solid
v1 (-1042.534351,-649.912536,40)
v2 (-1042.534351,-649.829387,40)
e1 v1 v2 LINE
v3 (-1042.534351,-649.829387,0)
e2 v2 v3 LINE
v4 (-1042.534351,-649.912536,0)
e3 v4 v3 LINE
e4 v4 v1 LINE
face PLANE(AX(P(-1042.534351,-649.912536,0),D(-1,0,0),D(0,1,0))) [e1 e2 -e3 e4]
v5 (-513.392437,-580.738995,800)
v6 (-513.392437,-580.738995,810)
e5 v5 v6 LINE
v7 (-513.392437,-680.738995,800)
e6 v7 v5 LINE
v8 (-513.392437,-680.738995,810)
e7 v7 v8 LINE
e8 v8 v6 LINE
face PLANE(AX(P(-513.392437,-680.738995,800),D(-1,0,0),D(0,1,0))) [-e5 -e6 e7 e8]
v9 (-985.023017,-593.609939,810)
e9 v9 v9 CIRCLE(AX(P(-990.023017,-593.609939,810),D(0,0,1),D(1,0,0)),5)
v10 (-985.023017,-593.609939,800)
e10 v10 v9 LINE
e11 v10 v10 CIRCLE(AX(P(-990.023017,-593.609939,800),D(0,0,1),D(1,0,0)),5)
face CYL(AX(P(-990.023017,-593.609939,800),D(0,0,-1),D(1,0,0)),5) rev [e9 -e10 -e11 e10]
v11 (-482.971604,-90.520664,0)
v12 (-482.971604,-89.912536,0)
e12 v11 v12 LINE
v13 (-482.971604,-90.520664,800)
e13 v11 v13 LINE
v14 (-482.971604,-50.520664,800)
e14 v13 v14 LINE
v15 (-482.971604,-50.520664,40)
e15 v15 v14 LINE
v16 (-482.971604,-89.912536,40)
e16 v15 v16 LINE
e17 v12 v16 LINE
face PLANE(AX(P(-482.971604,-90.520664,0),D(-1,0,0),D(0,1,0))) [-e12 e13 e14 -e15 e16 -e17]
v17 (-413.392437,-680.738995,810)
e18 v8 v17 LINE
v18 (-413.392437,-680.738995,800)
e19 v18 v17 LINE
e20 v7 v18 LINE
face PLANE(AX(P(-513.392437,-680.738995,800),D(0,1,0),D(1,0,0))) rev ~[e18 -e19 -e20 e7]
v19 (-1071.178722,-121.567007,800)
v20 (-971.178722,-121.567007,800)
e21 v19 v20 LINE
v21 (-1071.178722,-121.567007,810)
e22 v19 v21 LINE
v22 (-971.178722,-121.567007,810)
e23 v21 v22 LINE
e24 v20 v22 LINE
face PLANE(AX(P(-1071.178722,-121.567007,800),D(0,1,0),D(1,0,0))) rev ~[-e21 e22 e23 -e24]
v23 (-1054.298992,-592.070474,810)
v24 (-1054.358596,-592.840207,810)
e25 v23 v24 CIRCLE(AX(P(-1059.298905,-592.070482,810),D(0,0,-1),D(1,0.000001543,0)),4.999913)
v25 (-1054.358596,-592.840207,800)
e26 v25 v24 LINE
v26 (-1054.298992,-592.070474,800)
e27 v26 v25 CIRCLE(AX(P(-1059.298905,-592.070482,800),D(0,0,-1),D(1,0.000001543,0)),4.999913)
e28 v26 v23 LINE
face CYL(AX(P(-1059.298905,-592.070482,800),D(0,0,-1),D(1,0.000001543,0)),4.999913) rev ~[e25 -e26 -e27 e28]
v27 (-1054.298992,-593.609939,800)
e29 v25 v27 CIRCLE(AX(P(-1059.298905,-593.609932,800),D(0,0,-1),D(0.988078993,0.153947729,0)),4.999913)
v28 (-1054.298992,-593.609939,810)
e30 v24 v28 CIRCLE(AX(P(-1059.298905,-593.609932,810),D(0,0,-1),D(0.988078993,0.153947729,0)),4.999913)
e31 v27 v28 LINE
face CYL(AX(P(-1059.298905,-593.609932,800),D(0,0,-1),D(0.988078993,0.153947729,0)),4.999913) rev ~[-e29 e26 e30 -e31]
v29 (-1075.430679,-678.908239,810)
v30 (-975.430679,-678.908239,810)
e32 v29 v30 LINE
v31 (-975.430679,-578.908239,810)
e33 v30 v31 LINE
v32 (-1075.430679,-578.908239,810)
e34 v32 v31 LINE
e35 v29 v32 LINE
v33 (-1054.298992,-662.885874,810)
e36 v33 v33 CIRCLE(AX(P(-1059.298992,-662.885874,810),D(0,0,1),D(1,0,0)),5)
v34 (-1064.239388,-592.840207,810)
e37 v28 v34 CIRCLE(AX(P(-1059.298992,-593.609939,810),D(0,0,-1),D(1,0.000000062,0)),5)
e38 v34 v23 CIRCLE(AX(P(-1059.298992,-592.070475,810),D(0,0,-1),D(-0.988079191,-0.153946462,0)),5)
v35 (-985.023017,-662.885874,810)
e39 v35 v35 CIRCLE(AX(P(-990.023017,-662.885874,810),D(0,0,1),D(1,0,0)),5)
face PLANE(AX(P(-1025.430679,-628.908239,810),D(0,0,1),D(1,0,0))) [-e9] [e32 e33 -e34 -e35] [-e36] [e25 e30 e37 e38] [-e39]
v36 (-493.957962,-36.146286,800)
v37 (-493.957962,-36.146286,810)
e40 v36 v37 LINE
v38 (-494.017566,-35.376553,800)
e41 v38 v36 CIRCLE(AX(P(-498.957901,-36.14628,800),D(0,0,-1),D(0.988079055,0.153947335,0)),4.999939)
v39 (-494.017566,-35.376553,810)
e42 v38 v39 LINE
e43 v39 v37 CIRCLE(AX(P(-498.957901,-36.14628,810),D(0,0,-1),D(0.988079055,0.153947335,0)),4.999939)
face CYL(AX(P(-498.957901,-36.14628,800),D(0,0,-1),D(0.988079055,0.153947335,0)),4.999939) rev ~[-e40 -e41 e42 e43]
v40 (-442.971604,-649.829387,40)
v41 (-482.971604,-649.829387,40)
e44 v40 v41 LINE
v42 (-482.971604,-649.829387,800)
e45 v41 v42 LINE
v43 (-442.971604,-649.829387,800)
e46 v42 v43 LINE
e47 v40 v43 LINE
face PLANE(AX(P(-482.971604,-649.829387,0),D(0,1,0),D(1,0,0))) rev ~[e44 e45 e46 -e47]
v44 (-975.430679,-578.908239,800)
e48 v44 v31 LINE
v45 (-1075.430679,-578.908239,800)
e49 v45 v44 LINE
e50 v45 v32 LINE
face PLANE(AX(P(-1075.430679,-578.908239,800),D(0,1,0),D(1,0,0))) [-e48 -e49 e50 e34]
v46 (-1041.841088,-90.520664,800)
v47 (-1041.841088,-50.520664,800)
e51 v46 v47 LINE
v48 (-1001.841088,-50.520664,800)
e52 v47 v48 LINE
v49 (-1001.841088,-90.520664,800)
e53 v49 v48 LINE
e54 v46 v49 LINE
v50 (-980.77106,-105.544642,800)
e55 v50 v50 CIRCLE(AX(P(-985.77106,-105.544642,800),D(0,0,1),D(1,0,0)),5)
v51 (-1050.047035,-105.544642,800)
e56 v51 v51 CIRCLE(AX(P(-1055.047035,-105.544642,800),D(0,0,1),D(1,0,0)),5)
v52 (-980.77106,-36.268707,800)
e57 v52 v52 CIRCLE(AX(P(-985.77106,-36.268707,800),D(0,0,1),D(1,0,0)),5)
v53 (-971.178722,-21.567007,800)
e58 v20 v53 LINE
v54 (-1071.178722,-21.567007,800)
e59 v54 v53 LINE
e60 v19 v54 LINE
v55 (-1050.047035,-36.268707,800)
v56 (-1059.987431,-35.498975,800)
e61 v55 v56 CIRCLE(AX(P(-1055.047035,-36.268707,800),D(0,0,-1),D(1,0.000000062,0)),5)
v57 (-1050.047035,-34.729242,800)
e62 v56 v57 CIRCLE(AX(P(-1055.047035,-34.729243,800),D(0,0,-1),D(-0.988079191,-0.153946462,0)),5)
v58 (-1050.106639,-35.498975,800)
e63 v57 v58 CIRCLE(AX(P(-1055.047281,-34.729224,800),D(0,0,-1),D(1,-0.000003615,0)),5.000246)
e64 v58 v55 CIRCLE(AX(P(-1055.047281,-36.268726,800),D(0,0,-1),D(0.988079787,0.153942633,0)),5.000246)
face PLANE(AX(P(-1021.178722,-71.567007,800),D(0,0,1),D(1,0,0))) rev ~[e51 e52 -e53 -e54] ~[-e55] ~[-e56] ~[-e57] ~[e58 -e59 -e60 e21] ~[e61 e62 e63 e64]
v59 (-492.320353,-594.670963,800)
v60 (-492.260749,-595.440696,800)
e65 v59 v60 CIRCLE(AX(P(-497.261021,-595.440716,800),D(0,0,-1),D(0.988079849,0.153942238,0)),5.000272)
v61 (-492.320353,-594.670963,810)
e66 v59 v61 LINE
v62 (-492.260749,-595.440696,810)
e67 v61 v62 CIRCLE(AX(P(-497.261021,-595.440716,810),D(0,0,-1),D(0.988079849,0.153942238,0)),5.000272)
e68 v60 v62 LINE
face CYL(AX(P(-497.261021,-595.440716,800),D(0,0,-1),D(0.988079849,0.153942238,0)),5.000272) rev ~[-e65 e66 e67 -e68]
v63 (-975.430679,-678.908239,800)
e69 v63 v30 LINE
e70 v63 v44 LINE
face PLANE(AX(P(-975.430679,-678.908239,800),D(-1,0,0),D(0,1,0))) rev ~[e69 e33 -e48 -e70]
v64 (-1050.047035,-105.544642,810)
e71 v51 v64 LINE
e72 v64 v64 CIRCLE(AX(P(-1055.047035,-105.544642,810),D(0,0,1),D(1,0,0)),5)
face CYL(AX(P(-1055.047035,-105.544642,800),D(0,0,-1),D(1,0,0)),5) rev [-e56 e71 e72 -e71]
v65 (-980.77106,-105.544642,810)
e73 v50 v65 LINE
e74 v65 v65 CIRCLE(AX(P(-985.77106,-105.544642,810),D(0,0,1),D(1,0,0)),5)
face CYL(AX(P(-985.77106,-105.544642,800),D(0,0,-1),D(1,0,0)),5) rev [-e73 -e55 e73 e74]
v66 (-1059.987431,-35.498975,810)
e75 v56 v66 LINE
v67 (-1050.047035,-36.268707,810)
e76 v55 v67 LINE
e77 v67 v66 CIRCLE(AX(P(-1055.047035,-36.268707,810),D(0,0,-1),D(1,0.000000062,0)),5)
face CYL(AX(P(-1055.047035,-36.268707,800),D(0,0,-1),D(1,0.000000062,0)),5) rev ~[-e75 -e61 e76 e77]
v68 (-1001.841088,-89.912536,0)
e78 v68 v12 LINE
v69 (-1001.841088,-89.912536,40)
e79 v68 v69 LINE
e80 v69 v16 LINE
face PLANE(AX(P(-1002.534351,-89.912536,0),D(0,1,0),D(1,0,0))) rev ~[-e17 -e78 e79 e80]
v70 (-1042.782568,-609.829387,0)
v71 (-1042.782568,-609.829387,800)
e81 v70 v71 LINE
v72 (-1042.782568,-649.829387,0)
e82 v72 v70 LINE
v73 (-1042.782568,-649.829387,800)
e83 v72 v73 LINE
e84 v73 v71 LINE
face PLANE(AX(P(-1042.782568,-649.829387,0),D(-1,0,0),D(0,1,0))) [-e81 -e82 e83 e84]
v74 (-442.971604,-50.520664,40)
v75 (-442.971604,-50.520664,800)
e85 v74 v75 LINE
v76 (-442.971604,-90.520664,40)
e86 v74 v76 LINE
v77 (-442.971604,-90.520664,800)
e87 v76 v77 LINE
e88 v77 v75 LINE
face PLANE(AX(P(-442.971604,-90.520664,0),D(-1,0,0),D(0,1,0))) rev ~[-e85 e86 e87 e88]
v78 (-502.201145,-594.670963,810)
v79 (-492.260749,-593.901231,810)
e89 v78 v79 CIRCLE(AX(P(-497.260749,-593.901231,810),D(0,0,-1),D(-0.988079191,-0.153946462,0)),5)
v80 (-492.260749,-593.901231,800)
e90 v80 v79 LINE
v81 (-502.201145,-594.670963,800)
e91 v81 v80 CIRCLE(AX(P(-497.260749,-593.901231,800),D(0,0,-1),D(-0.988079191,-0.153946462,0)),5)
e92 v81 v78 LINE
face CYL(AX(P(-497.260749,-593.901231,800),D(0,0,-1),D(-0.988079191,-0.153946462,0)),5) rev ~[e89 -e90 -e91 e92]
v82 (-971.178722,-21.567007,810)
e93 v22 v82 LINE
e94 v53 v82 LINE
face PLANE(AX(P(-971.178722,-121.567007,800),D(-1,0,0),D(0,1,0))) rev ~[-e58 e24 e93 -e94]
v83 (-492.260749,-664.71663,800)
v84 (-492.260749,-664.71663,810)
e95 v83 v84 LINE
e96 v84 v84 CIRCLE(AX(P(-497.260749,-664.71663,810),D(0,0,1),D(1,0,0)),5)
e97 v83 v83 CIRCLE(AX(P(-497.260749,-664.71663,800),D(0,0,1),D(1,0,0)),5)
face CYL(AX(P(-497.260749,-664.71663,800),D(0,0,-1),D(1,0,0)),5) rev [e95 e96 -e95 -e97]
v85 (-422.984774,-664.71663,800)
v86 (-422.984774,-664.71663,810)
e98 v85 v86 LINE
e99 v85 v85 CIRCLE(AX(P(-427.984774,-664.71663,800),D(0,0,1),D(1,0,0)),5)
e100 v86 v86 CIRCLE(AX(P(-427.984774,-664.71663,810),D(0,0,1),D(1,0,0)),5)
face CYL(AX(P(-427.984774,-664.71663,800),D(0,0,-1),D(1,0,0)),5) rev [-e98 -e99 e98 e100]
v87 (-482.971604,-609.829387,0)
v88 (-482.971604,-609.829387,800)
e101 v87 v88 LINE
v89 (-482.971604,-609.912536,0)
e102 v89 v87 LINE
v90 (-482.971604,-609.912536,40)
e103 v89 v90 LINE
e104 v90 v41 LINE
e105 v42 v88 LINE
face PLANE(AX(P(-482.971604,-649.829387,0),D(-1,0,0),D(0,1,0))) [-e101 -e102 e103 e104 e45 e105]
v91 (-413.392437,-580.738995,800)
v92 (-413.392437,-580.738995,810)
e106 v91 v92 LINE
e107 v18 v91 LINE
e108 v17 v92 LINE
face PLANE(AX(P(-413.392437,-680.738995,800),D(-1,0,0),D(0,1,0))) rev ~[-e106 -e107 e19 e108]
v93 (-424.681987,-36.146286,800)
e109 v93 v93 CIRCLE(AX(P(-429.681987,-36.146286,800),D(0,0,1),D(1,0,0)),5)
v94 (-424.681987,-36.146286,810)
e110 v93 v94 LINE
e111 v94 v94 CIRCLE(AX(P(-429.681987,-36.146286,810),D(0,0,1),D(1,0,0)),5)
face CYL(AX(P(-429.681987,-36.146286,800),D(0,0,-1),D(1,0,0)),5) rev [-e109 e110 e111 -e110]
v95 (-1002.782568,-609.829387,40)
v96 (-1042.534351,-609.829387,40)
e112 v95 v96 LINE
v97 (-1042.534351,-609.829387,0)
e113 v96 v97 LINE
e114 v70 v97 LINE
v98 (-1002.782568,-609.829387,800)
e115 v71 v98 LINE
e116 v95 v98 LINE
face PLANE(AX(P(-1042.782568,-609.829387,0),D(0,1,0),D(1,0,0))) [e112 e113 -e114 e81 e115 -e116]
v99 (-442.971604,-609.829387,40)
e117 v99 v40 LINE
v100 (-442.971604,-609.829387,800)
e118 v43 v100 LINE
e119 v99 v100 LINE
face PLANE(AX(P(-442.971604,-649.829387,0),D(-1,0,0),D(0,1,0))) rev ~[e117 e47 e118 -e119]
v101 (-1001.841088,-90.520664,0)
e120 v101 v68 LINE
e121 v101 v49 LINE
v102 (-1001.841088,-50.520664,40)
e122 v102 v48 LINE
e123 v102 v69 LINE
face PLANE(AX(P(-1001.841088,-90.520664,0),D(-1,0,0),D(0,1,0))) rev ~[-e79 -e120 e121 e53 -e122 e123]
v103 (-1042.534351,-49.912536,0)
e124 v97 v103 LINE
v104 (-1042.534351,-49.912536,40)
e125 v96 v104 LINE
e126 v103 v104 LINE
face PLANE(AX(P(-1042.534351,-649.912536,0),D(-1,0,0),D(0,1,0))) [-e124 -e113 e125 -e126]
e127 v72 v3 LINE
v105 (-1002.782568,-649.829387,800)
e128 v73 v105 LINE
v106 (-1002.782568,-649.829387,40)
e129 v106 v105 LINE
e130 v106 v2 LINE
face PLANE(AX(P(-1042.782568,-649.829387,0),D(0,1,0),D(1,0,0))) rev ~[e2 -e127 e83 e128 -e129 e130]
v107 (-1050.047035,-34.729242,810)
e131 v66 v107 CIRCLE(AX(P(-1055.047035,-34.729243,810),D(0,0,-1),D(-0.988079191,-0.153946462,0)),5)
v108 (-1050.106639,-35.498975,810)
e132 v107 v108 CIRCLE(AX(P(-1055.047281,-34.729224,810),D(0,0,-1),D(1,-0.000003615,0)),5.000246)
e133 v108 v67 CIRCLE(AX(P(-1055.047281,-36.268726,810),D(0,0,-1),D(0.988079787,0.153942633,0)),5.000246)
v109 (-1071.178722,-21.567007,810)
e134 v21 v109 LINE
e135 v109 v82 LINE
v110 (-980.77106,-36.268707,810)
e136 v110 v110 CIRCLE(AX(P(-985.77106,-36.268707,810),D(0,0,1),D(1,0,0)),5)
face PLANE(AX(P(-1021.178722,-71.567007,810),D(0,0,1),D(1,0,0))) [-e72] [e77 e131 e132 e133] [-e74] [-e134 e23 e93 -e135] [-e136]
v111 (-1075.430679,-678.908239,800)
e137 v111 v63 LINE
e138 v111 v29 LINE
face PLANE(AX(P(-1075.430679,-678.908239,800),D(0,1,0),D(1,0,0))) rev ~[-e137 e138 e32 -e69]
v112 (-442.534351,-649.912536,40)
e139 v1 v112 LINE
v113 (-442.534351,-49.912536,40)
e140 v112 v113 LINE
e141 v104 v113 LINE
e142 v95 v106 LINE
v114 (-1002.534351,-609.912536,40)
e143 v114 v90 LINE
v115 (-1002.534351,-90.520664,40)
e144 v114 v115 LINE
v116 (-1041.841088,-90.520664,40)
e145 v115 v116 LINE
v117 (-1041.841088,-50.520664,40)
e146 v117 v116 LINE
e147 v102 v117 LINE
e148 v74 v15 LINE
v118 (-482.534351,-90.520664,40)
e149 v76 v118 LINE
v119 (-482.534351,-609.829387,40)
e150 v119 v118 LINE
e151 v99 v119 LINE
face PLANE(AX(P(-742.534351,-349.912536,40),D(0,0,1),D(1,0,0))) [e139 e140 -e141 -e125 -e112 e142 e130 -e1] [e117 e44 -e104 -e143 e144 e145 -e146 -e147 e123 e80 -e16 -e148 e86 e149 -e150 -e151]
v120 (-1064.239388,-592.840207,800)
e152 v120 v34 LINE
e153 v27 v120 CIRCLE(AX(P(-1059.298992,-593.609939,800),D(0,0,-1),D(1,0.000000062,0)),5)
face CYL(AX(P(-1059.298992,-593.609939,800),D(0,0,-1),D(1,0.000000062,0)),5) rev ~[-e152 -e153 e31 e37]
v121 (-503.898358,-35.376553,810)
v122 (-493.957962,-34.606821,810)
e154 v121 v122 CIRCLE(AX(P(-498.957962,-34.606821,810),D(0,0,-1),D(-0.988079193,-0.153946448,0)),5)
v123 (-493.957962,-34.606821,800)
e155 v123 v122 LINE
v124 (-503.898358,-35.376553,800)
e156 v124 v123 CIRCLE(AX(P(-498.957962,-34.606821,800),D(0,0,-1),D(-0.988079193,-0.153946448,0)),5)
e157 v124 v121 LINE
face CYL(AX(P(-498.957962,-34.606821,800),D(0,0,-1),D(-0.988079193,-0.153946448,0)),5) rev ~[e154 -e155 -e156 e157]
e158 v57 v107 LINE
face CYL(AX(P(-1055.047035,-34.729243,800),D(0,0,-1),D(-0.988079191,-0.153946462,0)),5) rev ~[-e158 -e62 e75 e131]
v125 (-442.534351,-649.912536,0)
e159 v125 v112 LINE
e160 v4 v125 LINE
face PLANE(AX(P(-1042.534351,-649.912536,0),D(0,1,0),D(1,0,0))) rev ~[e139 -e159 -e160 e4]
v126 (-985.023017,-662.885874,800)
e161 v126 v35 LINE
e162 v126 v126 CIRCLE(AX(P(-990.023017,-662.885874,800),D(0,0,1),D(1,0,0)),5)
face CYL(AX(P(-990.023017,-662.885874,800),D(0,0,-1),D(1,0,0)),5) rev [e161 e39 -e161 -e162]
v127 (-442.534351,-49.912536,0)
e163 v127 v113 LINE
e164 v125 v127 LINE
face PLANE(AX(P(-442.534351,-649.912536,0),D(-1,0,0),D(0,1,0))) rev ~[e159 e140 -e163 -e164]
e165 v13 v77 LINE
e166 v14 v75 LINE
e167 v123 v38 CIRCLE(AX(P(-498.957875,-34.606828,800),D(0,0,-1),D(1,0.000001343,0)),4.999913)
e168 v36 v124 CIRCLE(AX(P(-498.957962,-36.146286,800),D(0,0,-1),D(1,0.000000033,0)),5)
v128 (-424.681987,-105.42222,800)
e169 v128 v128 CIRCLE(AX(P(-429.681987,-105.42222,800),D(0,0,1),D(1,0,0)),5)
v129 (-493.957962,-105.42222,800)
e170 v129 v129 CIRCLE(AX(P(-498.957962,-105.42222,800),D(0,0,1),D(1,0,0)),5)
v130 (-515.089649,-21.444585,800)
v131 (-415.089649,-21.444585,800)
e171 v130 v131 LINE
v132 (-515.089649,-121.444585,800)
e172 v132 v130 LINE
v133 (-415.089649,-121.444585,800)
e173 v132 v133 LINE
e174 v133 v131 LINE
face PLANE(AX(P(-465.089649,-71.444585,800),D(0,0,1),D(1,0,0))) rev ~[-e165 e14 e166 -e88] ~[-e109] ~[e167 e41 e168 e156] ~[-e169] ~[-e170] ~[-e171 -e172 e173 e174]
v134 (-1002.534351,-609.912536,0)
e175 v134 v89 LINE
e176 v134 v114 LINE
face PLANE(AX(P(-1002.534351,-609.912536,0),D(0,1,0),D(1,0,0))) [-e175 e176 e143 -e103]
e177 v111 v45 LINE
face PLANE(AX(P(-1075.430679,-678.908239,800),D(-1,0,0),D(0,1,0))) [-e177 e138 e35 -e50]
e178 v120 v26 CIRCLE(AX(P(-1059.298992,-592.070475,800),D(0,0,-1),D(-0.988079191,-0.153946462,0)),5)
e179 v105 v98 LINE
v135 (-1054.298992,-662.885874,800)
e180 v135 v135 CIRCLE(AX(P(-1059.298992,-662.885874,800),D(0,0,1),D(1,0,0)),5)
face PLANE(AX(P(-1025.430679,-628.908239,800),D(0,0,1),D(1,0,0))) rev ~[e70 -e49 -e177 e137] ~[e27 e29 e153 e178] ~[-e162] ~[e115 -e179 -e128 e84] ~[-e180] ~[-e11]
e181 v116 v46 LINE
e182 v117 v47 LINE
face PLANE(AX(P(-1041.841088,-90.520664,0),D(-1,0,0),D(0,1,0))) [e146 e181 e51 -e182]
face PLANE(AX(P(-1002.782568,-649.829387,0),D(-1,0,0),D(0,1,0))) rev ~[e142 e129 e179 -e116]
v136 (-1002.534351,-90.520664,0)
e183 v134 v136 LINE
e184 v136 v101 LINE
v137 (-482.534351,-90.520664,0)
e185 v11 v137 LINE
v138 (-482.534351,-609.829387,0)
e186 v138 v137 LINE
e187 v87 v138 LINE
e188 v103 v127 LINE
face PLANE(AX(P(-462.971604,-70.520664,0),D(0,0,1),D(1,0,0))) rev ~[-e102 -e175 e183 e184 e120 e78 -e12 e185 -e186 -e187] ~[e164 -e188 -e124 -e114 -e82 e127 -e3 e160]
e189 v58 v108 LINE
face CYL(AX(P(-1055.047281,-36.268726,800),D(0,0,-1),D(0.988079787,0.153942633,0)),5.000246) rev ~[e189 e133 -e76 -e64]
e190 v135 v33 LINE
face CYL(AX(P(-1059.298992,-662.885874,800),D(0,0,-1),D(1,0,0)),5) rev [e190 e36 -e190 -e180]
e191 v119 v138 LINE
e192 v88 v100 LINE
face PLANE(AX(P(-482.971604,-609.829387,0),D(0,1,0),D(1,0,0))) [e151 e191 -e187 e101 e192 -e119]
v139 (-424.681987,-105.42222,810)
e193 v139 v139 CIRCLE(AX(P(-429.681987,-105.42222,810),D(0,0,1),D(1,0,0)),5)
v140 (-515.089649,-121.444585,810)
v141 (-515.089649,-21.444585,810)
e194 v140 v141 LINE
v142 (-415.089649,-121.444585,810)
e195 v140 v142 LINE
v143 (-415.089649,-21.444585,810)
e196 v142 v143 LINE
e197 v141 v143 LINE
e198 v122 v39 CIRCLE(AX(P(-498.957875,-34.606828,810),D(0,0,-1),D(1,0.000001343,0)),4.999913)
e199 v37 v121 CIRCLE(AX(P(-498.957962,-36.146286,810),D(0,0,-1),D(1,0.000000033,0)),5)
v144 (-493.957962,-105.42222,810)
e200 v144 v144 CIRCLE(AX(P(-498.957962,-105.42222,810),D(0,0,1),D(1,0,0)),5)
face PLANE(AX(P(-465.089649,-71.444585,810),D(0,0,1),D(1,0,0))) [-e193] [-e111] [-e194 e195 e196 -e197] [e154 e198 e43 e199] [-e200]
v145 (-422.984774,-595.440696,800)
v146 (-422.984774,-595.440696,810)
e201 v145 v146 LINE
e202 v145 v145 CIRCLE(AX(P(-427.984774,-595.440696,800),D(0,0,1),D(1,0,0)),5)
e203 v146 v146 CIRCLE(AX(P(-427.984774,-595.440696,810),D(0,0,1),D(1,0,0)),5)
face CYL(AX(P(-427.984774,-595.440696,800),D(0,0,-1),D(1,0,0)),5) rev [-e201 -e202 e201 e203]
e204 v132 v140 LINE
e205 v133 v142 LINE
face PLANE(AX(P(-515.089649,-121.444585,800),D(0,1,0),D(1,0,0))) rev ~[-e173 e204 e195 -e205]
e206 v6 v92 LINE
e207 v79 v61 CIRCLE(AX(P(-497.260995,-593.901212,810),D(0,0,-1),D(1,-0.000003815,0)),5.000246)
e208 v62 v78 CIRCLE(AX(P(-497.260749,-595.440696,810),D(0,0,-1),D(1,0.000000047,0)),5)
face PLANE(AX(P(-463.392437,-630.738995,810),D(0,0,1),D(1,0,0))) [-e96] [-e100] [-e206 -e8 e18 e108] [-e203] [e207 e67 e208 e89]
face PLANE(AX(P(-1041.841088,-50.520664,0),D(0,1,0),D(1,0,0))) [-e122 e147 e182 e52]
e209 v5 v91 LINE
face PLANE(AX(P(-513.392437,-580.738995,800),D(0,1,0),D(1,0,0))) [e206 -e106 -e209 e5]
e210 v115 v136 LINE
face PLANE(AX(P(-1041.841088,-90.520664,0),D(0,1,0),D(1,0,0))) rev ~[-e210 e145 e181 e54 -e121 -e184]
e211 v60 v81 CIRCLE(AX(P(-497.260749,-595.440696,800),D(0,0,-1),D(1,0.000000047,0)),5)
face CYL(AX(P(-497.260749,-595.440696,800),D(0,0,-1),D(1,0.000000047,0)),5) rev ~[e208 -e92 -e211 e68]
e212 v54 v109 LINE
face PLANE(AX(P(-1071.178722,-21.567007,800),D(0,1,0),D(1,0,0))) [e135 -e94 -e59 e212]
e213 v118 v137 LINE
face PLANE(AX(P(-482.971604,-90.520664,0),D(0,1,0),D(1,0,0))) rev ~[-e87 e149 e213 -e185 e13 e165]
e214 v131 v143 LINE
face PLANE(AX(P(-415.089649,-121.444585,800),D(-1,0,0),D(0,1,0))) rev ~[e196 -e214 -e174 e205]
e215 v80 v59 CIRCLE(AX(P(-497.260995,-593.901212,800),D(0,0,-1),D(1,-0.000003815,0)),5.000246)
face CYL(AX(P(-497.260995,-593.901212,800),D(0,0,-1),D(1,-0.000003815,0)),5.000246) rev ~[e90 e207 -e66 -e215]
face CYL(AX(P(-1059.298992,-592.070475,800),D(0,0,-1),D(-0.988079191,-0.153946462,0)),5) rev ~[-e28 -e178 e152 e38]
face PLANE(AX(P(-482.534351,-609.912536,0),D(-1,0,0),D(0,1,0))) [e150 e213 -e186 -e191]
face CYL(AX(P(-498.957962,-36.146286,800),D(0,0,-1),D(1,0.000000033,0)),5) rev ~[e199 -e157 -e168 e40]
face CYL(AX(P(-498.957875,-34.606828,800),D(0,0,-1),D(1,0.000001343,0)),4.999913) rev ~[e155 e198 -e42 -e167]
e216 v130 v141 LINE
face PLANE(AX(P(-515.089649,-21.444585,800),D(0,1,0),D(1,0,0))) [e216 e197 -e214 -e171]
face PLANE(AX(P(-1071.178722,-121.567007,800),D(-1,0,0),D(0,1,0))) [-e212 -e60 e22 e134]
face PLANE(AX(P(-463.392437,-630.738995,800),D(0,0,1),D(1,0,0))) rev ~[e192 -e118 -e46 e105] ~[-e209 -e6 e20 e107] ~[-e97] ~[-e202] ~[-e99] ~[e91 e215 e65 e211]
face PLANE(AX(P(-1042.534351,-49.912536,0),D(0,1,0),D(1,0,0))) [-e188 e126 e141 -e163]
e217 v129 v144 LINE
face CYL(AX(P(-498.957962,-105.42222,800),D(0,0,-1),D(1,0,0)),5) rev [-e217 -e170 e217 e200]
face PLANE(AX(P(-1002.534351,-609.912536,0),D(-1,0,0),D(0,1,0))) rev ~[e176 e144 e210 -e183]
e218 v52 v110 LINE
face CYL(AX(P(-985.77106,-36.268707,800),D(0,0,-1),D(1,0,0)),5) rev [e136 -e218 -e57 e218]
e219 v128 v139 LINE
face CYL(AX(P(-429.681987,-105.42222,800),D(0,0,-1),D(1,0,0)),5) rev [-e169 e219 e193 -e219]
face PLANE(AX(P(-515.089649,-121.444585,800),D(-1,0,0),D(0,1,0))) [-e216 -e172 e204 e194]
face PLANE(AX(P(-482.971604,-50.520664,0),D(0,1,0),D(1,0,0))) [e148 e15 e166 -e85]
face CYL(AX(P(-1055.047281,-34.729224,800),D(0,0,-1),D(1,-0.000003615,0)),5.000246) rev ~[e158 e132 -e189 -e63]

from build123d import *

# Parameters (mm, degrees)
F0_W     = 600
F0_H     = 600
F0_W_2   = 520
F0_H_2   = 520
F1_DEPTH = 40
F2_W     = 40
F2_H     = 40
F3_DEPTH = 800
F4_W     = 100
F4_H     = 100
F4_R     = 5
F5_DEPTH = 10


with BuildPart() as f1:
    # F0 (on Top) → F1 (new body)
    with BuildSketch(Plane.XY):
        with Locations((-742.534351, -349.912536)):
            Rectangle(F0_W, F0_H)
        with Locations((-742.534351, -349.912536)):
            Rectangle(F0_W_2, F0_H_2, mode=Mode.SUBTRACT)
    extrude(amount=F1_DEPTH)

    # F2 (on Top) → F3 (join)
    with BuildSketch(Plane.XY):
        with Locations((-462.971604, -70.520664)):
            Rectangle(F2_W, F2_H)
        with Locations((-1021.841088, -70.520664)):
            Rectangle(F2_W, F2_H)
        with Locations((-462.971604, -629.829387)):
            Rectangle(F2_W, F2_H)
        with Locations((-1022.782568, -629.829387)):
            Rectangle(F2_W, F2_H)
    extrude(amount=F3_DEPTH)

    # F4 (on face) → F5 (join)
    with BuildSketch(Plane.XY.offset(800)):
        with Locations((-1021.178722, -71.567007)):
            Rectangle(F4_W, F4_H)
        with Locations((-1055.047035, -105.544642)):
            Circle(F4_R, mode=Mode.SUBTRACT)
        with Locations((-985.77106, -105.544642)):
            Circle(F4_R, mode=Mode.SUBTRACT)
        with BuildLine():
            ThreePointArc((-1059.987431, -35.498975), (-1055.433054, -29.744166), (-1050.047035, -34.729242))
            ThreePointArc((-1050.047035, -34.729242), (-1050.061959, -35.115261), (-1050.106639, -35.498975))
            ThreePointArc((-1050.106639, -35.498975), (-1050.061959, -35.882689), (-1050.047035, -36.268707))
            ThreePointArc((-1050.047035, -36.268707), (-1055.433054, -41.253784), (-1059.987431, -35.498975))
        make_face(mode=Mode.SUBTRACT)
        with Locations((-985.77106, -36.268707)):
            Circle(F4_R, mode=Mode.SUBTRACT)
        with Locations((-465.089649, -71.444585)):
            Rectangle(F4_W, F4_H)
        with Locations((-498.957962, -105.42222)):
            Circle(F4_R, mode=Mode.SUBTRACT)
        with Locations((-429.681987, -105.42222)):
            Circle(F4_R, mode=Mode.SUBTRACT)
        with BuildLine():
            ThreePointArc((-503.898358, -35.376553), (-499.34398, -29.621744), (-493.957962, -34.606821))
            ThreePointArc((-493.957962, -34.606821), (-493.972885, -34.992839), (-494.017566, -35.376553))
            ThreePointArc((-494.017566, -35.376553), (-493.972885, -35.760268), (-493.957962, -36.146286))
            ThreePointArc((-493.957962, -36.146286), (-499.34398, -41.131363), (-503.898358, -35.376553))
        make_face(mode=Mode.SUBTRACT)
        with Locations((-429.681987, -36.146286)):
            Circle(F4_R, mode=Mode.SUBTRACT)
        with Locations((-463.392437, -630.738995)):
            Rectangle(F4_W, F4_H)
        with Locations((-497.260749, -664.71663)):
            Circle(F4_R, mode=Mode.SUBTRACT)
        with Locations((-427.984774, -664.71663)):
            Circle(F4_R, mode=Mode.SUBTRACT)
        with BuildLine():
            ThreePointArc((-502.201145, -594.670963), (-497.646768, -588.916154), (-492.260749, -593.901231))
            ThreePointArc((-492.260749, -593.901231), (-492.275673, -594.287249), (-492.320353, -594.670963))
            ThreePointArc((-492.320353, -594.670963), (-492.275673, -595.054678), (-492.260749, -595.440696))
            ThreePointArc((-492.260749, -595.440696), (-497.646768, -600.425773), (-502.201145, -594.670963))
        make_face(mode=Mode.SUBTRACT)
        with Locations((-427.984774, -595.440696)):
            Circle(F4_R, mode=Mode.SUBTRACT)
        with Locations((-1025.430679, -628.908239)):
            Rectangle(F4_W, F4_H)
        with Locations((-1059.298992, -662.885874)):
            Circle(F4_R, mode=Mode.SUBTRACT)
        with Locations((-990.023017, -662.885874)):
            Circle(F4_R, mode=Mode.SUBTRACT)
        with BuildLine():
            ThreePointArc((-1064.239388, -592.840207), (-1059.685011, -587.085398), (-1054.298992, -592.070474))
            ThreePointArc((-1054.298992, -592.070474), (-1054.313915, -592.456493), (-1054.358596, -592.840207))
            ThreePointArc((-1054.358596, -592.840207), (-1054.313915, -593.223921), (-1054.298992, -593.609939))
            ThreePointArc((-1054.298992, -593.609939), (-1059.685011, -598.595016), (-1064.239388, -592.840207))
        make_face(mode=Mode.SUBTRACT)
        with Locations((-990.023017, -593.609939)):
            Circle(F4_R, mode=Mode.SUBTRACT)
    extrude(amount=F5_DEPTH)


solid = f1.part
